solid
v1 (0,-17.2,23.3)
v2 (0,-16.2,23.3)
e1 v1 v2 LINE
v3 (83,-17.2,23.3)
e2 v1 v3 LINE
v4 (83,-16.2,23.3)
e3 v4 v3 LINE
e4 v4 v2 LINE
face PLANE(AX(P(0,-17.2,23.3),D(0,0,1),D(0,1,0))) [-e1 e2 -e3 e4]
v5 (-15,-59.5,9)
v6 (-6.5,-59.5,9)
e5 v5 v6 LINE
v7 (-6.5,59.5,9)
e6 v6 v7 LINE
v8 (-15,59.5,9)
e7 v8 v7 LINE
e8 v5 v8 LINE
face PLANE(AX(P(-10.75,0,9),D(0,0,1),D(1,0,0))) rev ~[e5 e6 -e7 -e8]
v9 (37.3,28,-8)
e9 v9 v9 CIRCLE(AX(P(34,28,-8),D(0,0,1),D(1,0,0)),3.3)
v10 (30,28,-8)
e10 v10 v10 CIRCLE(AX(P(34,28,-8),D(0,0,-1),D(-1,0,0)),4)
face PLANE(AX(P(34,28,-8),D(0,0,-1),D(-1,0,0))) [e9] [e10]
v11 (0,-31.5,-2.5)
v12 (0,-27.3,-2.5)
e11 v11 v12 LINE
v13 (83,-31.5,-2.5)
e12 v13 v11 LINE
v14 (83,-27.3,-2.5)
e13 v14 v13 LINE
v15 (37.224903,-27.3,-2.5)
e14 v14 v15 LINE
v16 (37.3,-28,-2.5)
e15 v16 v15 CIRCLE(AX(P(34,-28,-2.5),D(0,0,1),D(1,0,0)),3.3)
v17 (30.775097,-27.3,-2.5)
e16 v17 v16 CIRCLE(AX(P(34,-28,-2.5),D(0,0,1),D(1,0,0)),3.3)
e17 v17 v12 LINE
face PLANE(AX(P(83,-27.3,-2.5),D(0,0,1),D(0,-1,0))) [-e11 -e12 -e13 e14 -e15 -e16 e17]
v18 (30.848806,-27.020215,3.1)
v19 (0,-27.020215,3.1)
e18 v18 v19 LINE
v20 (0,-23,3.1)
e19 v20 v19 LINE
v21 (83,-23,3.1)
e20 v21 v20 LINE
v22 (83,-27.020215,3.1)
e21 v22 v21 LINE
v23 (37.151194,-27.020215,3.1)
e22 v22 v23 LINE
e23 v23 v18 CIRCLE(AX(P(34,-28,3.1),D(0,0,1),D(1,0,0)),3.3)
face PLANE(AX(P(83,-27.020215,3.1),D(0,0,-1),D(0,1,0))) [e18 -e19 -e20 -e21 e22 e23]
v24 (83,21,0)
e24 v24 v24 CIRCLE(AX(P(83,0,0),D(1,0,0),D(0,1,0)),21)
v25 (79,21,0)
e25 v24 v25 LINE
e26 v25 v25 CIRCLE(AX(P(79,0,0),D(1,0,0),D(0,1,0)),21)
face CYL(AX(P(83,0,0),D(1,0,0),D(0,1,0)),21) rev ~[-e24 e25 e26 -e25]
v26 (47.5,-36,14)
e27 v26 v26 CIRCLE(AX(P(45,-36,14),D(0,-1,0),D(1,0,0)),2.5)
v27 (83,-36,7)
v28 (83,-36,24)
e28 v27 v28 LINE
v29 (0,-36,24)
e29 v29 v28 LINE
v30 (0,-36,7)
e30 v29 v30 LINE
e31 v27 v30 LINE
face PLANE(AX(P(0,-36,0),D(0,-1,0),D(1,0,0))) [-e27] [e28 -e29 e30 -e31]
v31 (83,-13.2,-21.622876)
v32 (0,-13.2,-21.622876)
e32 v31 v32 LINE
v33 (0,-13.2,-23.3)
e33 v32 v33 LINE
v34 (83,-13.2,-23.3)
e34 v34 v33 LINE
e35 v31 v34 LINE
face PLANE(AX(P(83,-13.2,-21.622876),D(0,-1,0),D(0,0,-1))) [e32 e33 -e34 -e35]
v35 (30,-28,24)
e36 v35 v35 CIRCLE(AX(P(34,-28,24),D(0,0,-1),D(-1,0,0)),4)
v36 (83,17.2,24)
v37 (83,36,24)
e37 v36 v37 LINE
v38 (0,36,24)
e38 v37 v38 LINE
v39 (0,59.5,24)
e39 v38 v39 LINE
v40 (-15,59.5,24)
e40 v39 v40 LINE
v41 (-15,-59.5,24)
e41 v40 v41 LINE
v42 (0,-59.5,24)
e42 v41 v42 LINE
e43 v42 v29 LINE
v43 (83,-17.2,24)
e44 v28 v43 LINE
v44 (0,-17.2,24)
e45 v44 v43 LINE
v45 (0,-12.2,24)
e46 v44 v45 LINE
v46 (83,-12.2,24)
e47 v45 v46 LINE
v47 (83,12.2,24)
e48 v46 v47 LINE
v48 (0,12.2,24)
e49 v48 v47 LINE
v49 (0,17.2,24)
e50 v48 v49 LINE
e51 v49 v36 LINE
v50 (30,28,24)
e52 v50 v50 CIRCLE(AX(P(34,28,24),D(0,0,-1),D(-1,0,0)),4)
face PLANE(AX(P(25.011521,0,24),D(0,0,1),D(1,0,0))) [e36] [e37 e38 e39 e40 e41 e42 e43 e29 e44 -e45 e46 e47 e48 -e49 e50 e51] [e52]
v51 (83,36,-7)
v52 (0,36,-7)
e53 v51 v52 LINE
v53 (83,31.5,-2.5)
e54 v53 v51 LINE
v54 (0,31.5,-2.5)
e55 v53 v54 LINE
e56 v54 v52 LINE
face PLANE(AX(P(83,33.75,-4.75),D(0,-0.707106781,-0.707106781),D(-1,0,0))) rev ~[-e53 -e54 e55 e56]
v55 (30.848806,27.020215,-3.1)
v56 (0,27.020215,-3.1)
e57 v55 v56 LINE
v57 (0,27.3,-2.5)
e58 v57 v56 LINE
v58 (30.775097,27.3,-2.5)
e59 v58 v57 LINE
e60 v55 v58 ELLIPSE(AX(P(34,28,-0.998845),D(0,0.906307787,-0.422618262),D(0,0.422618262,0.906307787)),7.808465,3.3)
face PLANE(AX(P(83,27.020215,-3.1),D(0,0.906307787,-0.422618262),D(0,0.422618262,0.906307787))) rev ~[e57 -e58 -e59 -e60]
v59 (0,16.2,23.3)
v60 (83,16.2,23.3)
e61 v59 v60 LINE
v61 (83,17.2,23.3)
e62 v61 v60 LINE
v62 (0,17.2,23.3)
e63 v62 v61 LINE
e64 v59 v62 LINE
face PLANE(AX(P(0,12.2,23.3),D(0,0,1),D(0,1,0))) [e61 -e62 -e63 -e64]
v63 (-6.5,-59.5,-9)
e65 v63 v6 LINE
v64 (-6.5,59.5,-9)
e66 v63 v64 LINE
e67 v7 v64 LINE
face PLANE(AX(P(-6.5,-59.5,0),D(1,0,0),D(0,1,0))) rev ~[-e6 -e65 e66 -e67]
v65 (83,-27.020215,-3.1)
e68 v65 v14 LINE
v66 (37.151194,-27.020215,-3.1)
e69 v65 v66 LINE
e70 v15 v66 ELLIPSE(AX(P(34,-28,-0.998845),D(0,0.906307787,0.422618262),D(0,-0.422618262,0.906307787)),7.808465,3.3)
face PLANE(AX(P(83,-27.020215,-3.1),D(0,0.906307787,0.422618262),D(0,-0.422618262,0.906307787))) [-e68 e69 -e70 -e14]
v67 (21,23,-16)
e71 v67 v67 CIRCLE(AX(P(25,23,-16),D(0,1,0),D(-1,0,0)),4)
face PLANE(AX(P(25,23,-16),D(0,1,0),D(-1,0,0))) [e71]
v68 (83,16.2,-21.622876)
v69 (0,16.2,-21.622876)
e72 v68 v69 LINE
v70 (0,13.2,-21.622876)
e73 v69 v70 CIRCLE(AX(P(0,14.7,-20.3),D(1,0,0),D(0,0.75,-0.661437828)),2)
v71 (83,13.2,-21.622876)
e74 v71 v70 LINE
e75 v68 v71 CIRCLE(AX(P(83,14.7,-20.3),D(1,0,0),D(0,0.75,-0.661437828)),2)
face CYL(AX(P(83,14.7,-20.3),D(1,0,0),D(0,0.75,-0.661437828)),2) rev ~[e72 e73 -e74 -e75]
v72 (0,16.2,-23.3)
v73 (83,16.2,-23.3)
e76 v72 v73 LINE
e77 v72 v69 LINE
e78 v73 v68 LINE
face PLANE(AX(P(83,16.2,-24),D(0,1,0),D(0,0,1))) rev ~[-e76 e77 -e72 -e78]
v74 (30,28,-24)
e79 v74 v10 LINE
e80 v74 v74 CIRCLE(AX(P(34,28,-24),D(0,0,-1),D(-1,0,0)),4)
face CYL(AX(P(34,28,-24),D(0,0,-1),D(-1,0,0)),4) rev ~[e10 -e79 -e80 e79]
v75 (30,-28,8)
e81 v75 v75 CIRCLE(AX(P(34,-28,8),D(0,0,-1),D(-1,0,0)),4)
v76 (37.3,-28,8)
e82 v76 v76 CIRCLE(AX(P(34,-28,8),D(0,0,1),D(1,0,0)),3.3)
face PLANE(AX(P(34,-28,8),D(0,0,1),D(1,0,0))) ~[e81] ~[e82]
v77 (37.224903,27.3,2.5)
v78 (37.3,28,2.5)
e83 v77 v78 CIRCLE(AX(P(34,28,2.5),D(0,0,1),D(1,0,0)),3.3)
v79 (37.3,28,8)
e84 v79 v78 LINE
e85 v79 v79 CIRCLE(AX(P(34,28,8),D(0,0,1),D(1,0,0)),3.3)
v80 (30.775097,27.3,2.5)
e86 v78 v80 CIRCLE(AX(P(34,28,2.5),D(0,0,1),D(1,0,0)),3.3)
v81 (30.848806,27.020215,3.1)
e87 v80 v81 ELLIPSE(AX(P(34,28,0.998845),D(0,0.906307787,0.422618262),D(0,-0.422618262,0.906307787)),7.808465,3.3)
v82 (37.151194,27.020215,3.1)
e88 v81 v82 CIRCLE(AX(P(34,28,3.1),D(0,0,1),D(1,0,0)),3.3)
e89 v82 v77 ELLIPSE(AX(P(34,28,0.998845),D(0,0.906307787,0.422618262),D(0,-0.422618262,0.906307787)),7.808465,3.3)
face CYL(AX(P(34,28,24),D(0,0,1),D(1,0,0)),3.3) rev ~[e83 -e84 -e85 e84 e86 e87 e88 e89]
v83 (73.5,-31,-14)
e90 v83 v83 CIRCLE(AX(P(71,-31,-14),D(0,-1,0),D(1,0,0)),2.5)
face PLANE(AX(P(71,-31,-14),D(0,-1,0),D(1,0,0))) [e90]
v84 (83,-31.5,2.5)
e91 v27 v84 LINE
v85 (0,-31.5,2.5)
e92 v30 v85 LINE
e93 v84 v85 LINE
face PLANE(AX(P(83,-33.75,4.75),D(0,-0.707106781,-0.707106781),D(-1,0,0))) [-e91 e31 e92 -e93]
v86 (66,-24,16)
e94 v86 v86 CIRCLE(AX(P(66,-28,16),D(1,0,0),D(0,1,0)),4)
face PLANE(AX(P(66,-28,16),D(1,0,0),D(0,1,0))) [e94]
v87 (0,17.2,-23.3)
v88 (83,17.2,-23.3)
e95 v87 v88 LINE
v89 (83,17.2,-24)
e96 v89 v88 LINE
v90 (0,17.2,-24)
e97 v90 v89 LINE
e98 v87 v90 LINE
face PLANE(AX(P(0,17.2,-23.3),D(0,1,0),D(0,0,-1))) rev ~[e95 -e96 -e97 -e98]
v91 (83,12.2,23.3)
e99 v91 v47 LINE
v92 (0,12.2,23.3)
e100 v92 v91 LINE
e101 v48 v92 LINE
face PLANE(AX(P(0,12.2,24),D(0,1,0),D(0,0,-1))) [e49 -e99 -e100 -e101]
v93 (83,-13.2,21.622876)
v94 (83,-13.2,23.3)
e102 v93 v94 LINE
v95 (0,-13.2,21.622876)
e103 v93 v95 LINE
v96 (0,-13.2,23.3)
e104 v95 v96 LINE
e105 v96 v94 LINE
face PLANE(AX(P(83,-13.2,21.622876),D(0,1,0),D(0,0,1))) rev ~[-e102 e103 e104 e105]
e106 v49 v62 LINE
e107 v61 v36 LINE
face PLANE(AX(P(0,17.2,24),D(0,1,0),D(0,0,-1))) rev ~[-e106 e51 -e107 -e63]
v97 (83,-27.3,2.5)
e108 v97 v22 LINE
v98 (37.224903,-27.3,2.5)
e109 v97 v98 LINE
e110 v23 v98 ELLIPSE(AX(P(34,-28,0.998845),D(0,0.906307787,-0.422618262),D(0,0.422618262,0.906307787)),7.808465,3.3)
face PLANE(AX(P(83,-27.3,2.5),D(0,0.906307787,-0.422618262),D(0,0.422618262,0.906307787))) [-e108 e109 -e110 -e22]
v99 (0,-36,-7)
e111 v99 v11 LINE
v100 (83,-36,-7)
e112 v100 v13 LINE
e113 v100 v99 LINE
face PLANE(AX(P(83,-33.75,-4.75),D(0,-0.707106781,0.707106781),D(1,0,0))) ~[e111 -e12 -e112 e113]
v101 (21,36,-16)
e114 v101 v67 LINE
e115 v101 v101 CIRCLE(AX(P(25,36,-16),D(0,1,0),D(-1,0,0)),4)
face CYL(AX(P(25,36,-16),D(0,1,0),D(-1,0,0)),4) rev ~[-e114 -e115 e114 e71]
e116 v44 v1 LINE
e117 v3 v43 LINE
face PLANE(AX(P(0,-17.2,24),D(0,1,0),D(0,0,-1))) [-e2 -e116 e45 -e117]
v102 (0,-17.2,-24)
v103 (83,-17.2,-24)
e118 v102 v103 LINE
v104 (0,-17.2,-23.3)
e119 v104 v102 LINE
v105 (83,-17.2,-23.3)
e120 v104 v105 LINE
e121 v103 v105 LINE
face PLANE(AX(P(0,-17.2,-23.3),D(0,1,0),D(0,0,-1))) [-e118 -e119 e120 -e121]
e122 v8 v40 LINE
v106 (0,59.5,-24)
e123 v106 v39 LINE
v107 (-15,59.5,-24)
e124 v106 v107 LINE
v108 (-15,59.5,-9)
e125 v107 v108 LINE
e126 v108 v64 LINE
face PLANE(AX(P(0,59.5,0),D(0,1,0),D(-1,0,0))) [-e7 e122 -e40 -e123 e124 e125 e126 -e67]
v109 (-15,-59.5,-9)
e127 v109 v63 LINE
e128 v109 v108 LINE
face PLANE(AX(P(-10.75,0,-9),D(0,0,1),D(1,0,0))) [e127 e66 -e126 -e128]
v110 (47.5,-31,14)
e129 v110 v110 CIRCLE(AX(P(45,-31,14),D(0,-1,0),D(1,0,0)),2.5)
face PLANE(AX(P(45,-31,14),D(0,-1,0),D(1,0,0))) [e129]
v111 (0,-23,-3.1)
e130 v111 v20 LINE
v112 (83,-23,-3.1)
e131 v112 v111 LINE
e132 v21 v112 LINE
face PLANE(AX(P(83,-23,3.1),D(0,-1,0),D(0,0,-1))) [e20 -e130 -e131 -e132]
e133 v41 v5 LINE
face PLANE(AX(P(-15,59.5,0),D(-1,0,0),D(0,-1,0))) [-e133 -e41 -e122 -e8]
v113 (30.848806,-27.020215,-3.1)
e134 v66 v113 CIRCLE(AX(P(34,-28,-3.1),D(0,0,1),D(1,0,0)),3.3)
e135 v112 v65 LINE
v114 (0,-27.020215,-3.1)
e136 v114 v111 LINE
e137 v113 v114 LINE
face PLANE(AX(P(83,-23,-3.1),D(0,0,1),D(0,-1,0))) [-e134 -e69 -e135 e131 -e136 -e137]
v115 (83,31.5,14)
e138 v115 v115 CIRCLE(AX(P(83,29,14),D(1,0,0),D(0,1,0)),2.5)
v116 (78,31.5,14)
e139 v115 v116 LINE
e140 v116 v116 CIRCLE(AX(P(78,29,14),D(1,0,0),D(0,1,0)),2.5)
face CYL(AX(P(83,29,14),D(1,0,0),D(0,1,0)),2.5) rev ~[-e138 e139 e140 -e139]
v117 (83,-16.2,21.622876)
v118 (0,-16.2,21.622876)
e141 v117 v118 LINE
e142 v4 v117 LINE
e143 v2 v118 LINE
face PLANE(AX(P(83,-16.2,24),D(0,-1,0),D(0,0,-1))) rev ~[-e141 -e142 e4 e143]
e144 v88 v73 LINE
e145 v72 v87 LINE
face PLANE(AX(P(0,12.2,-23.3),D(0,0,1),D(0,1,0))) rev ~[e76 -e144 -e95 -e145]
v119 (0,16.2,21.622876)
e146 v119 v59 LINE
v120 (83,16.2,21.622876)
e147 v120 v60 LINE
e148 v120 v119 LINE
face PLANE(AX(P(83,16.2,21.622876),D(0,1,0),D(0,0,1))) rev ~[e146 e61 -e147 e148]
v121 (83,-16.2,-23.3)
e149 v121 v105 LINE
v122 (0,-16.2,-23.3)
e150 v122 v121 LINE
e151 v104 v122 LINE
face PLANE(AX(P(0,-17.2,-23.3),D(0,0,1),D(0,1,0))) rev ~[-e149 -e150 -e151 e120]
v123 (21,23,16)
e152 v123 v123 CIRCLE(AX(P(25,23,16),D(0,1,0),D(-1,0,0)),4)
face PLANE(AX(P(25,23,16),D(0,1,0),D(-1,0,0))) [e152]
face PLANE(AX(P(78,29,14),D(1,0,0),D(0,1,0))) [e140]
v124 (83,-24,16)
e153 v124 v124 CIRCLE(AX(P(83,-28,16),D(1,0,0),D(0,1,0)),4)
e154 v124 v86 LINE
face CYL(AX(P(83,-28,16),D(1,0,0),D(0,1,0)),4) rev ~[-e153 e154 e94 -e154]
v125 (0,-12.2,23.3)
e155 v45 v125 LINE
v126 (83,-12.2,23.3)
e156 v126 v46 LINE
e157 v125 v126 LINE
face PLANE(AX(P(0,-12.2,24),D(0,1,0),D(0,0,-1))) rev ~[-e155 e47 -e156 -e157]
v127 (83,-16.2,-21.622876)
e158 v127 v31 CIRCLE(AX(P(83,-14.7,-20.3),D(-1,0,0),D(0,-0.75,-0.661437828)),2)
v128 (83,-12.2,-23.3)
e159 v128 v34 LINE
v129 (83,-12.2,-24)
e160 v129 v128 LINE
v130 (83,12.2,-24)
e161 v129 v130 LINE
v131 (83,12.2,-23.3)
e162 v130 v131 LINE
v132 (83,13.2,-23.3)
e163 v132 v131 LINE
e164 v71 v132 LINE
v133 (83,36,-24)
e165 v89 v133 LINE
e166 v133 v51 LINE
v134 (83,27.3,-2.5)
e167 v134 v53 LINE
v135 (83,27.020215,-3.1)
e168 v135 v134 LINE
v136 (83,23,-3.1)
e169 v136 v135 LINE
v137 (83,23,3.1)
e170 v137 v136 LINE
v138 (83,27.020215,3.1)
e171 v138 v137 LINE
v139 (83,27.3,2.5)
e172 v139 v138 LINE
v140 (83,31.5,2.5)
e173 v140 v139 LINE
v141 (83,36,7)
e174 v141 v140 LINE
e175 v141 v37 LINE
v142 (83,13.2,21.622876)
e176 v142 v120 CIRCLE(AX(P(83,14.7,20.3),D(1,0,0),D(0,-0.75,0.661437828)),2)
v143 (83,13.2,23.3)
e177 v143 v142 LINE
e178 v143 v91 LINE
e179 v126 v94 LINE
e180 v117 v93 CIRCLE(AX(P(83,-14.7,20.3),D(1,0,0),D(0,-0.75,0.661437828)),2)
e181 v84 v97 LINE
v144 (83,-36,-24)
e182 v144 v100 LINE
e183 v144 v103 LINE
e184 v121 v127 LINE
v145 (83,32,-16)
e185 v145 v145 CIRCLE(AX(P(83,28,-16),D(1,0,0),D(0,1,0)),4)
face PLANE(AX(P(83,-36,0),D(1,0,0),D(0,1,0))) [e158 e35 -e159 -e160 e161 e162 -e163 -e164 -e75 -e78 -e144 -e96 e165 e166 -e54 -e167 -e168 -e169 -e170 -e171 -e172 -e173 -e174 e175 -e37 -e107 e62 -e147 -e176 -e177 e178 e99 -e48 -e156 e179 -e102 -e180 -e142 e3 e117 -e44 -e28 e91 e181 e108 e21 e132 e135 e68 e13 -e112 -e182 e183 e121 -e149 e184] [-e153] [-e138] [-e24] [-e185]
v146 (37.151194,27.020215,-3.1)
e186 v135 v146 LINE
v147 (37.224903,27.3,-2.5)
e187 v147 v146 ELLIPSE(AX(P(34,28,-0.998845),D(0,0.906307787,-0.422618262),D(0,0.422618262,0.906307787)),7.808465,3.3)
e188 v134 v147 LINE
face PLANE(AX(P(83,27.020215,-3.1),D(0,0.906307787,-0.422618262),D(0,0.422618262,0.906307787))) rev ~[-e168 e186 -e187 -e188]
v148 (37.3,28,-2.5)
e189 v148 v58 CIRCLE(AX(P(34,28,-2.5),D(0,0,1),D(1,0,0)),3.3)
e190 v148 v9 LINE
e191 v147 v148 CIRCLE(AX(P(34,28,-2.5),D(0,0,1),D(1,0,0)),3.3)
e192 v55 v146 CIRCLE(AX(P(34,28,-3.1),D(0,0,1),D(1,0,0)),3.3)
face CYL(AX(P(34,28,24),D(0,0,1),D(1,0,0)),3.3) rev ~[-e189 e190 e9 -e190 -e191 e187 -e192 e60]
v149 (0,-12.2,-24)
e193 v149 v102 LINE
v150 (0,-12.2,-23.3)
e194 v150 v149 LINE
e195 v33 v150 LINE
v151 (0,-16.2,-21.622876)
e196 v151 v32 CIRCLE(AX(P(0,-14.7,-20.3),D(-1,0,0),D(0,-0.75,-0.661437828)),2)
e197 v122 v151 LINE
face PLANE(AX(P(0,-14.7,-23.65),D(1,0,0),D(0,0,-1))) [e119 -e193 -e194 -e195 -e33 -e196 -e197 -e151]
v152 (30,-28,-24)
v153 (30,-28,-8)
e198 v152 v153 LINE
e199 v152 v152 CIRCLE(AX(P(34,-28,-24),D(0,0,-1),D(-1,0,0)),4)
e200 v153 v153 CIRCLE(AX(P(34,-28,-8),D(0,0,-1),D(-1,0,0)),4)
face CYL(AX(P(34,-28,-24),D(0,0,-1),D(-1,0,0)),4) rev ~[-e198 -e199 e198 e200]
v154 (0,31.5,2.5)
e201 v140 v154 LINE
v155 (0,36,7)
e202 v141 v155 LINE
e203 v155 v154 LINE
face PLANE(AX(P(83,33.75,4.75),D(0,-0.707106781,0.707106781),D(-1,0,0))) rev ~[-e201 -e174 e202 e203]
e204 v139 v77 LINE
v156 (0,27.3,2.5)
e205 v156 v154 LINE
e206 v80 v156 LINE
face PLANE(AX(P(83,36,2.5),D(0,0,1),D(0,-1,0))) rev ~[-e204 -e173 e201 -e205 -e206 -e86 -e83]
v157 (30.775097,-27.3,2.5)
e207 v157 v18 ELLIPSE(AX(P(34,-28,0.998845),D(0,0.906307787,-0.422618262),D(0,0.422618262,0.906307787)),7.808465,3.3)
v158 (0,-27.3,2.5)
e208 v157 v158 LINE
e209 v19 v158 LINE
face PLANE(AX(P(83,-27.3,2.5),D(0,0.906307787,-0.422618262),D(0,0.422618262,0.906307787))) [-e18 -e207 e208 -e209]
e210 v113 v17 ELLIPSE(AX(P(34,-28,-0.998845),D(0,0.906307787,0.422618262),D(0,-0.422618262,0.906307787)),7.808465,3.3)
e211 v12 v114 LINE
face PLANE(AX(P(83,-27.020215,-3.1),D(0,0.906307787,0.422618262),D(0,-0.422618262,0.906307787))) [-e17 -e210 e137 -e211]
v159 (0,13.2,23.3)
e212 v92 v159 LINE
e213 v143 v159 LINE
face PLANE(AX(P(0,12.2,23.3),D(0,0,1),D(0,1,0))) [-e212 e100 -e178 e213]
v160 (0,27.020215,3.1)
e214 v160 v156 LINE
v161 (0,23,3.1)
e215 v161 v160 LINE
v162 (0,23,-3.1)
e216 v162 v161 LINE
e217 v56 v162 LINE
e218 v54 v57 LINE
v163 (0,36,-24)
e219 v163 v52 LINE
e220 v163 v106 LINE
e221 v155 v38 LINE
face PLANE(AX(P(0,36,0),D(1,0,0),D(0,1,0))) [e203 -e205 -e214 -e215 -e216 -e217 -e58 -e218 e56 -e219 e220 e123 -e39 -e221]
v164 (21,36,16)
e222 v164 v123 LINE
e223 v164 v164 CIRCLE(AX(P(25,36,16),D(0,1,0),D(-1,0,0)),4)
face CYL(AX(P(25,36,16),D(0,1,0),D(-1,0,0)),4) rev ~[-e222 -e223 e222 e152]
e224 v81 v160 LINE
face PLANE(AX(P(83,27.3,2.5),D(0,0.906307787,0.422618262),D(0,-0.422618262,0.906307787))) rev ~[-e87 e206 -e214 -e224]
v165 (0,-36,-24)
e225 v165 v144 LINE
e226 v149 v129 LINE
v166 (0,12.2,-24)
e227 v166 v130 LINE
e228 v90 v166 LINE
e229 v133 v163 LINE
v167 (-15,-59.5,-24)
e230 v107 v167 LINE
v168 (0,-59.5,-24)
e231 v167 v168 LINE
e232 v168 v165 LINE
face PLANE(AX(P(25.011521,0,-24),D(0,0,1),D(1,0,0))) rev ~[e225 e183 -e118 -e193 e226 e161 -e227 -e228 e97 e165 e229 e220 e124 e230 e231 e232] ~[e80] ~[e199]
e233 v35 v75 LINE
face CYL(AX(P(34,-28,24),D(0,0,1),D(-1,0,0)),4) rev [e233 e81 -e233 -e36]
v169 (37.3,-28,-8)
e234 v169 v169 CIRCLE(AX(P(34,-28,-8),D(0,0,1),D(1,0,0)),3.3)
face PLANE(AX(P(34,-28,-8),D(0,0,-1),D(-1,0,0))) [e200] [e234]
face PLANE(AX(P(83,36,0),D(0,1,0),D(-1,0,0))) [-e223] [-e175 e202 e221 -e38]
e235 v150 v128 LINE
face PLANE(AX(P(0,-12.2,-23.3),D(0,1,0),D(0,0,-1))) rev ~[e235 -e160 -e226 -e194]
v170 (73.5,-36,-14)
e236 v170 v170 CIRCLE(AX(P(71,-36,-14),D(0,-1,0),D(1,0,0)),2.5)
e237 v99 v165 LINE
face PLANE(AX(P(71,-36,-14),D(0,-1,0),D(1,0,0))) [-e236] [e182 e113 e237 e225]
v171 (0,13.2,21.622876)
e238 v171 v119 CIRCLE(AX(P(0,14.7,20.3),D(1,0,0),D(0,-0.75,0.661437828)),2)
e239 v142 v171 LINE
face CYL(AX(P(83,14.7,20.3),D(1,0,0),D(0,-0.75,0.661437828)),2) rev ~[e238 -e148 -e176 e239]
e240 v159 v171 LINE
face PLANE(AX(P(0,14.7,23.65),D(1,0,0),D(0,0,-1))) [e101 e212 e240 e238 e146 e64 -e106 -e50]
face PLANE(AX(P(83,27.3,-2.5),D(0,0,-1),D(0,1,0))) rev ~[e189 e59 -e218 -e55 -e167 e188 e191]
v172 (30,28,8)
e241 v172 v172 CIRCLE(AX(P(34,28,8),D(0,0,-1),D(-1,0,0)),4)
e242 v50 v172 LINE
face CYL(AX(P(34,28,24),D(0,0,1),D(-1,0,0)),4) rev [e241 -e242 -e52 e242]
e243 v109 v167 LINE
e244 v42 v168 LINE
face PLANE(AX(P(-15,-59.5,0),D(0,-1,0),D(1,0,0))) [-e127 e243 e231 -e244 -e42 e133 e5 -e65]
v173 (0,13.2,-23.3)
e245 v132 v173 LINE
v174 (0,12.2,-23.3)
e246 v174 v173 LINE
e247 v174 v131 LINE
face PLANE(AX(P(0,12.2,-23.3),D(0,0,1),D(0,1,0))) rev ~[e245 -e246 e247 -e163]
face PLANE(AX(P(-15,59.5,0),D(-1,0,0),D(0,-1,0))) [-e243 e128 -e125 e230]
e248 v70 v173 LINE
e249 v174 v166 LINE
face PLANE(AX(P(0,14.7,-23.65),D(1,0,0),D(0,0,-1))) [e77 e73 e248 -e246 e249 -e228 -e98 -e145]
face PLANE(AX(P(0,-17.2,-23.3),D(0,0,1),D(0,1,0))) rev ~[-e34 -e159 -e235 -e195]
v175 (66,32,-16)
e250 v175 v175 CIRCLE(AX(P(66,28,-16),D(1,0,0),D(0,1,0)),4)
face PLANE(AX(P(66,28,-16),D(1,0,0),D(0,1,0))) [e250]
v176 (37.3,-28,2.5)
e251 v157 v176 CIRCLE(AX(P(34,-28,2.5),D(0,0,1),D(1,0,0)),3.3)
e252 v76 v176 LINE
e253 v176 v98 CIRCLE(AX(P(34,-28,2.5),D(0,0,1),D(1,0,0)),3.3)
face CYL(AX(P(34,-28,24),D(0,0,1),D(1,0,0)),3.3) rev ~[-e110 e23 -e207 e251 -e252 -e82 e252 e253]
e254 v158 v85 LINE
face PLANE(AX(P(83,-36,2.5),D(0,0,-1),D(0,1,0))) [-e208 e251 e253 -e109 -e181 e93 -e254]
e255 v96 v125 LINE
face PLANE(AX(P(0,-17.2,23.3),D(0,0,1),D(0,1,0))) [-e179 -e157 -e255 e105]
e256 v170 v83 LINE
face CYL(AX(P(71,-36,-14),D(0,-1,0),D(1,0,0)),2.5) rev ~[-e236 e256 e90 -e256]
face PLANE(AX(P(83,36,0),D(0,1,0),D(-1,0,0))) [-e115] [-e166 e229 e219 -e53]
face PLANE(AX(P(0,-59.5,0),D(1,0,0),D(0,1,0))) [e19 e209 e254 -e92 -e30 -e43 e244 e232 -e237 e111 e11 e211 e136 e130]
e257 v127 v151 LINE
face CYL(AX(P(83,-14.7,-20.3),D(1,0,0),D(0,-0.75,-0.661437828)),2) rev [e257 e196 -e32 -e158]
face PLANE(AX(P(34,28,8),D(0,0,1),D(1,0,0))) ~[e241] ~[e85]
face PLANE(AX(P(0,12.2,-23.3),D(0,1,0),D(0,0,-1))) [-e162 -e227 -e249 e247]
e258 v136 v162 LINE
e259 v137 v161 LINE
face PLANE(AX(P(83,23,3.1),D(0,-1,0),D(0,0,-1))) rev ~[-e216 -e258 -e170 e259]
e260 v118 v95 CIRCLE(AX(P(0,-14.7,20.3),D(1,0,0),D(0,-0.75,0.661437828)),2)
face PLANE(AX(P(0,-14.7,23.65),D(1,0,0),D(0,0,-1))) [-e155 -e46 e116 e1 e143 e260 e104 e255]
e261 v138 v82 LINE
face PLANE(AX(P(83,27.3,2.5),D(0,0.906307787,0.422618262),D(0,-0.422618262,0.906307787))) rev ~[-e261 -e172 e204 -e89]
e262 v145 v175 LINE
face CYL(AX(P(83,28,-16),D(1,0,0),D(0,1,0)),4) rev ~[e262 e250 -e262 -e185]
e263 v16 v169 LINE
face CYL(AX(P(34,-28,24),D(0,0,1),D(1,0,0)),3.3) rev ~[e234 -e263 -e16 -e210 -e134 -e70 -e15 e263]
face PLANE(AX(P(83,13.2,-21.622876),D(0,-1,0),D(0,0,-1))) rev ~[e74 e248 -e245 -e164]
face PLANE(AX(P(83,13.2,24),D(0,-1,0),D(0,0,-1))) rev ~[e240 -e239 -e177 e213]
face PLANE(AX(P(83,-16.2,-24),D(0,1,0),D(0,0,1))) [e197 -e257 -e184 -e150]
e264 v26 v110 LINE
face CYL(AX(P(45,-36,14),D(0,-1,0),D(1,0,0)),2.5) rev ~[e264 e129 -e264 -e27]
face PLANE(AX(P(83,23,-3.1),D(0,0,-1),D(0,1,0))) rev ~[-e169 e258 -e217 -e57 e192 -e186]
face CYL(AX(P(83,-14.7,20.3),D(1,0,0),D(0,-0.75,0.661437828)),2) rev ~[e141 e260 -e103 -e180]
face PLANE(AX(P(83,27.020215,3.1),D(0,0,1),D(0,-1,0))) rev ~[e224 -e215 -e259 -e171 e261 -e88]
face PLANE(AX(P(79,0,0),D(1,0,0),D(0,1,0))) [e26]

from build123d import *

# Parameters (mm, degrees)
MAIN_DEPTH                   = 24
SK_RECESS_R                  = 21
RECESS_DEPTH                 = 4
NUT_DEPTH                    = 83
SK_HOLE1_R                   = 2.5
HOLE1_DEPTH                  = 5
SK_HOLE_T_R                  = 4
HOLE_T_DEPTH                 = 17
SK_HOLE2_R                   = 4
HOLE2_DEPTH                  = 13
SK_HOLE3_R                   = 4
HOLE3_DEPTH                  = 16
SKETCH1_R                    = 3.3
THRUHOLES_DEPTH              = 113.841703284
SK_PRONG_GRV_W               = 8.5
SK_PRONG_GRV_H               = 119
PRONG_GRV_DEPTH              = 9
SK_HOLE4_R                   = 2.5
HOLE4_DEPTH                  = 5
GRV_REACH                    = 119.133
F_32_40SWITCHCHAMFER_SIZE    = 4.5
SKETCH5_W                    = 0.7
SKETCH5_H                    = 5
F_32_40SWITCHCUTDETAIL_DEPTH = 105.905910224
EXTRUDE1_START               = 5
SKETCH6_R                    = 2.5
EXTRUDE1_DEPTH               = 5
SKETCH9_R                    = 2.5
HOLE_5_DEPTH                 = 5


with BuildPart() as part:
    # sk-main → main (new, symmetric)
    with BuildSketch(Plane.XY):
        Polygon((0, -36), (83, -36), (83, 36), (0, 36), (0, 59.5), (-15, 59.5), (-15, -59.5), (0, -59.5), align=None)
    extrude(amount=MAIN_DEPTH, both=True)

    # sk-recess → recess (cut)
    with BuildSketch(Plane(origin=(83, 0, 0), x_dir=(0, 0, -1), z_dir=(1, 0, 0))):
        with Locations(Location((0, 0, 0), (0, 0, 90))):
            Circle(SK_RECESS_R)
    extrude(amount=-RECESS_DEPTH, mode=Mode.SUBTRACT)

    # sk-NUT → NUT (cut)
    with BuildSketch(Plane(origin=(83, 0, 0), x_dir=(0, 0, -1), z_dir=(1, 0, 0))):
        with BuildLine():
            Line((-21.622875656, 16.2), (-24, 16.2))
            Line((-24, 16.2), (-24, 13.2))
            Line((-24, 13.2), (-21.622875656, 13.2))
            ThreePointArc((-21.622875656, 13.2), (-18.3, 14.7), (-21.622875656, 16.2))
        make_face()
        with BuildLine():
            Line((-21.622875656, -13.2), (-24, -13.2))
            Line((-24, -13.2), (-24, -16.2))
            Line((-24, -16.2), (-21.622875656, -16.2))
            ThreePointArc((-21.622875656, -16.2), (-18.3, -14.7), (-21.622875656, -13.2))
        make_face()
        with BuildLine():
            Line((21.622875656, 13.2), (24, 13.2))
            Line((24, 13.2), (24, 16.2))
            Line((24, 16.2), (21.622875656, 16.2))
            ThreePointArc((21.622875656, 16.2), (18.3, 14.7), (21.622875656, 13.2))
        make_face()
        with BuildLine():
            Line((21.622875656, -13.2), (24, -13.2))
            Line((24, -13.2), (24, -16.2))
            Line((24, -16.2), (21.622875656, -16.2))
            ThreePointArc((21.622875656, -16.2), (18.3, -14.7), (21.622875656, -13.2))
        make_face()
    extrude(amount=-NUT_DEPTH, mode=Mode.SUBTRACT)

    # sk-hole1 → hole1 (cut)
    with BuildSketch(Plane(origin=(83, 0, 0), x_dir=(0, 0, -1), z_dir=(1, 0, 0))):
        with Locations(Location((-14, 29, 0), (0, 0, 90))):
            Circle(SK_HOLE1_R)
    extrude(amount=-HOLE1_DEPTH, mode=Mode.SUBTRACT)

    # sk-hole_t → hole_t (cut)
    with BuildSketch(Plane(origin=(83, 0, 0), x_dir=(0, 0, -1), z_dir=(1, 0, 0))):
        with Locations(Location((-16, -28, 0), (0, 0, 90))):
            Circle(SK_HOLE_T_R)
        with Locations(Location((16, 28, 0), (0, 0, 90))):
            Circle(SK_HOLE_T_R)
    extrude(amount=-HOLE_T_DEPTH, mode=Mode.SUBTRACT)

    # sk-hole2 → hole2 (cut)
    with BuildSketch(Plane(origin=(0, 36, 0), x_dir=(-1, 0, 0), z_dir=(0, 1, 0))):
        with Locations((-25, -16)):
            Circle(SK_HOLE2_R)
        with Locations((-25, 16)):
            Circle(SK_HOLE2_R)
    extrude(amount=-HOLE2_DEPTH, mode=Mode.SUBTRACT)

    # sk-hole3 → hole3 (cut)
    with BuildSketch(Plane(origin=(0, 0, -24), x_dir=(-1, 0, 0), z_dir=(0, 0, -1))):
        with Locations((-34, 28)):
            Circle(SK_HOLE3_R)
        with Locations((-34, -28)):
            Circle(SK_HOLE3_R)
    hole3 = extrude(amount=-HOLE3_DEPTH, mode=Mode.SUBTRACT)

    # Mirror1: hole3 across plane
    add(hole3.mirror(Plane.XY), mode=Mode.SUBTRACT)

    # Sketch1 → ThruHoles (cut, through all)
    with BuildSketch(Plane.XY.offset(24)):
        with Locations((34, 28)):
            Circle(SKETCH1_R)
        with Locations((34, -28)):
            Circle(SKETCH1_R)
    extrude(amount=-THRUHOLES_DEPTH, mode=Mode.SUBTRACT)

    # sk-prong_grv → prong_grv (cut, symmetric)
    with BuildSketch(Plane.XY):
        with Locations((-10.75, 0)):
            Rectangle(SK_PRONG_GRV_W, SK_PRONG_GRV_H)
    extrude(amount=PRONG_GRV_DEPTH, both=True, mode=Mode.SUBTRACT)

    # sk-hole4 → hole4 (cut)
    with BuildSketch(Plane.XZ.offset(36)):
        with Locations((45, 14)):
            Circle(SK_HOLE4_R)
        with Locations((71, -14)):
            Circle(SK_HOLE4_R)
    extrude(amount=-HOLE4_DEPTH, mode=Mode.SUBTRACT)

    # grv: up to this face of the body (flat: up to its plane)
    grv_end = Plane(part.part.faces().sort_by_distance((0, 47.75, 0))[0])
    # sk-grv → grv (cut, up to the picked face)
    with BuildSketch(Plane(origin=(83, 0, 0), x_dir=(0, 0, -1), z_dir=(1, 0, 0)), mode=Mode.PRIVATE) as grv_sk1:
        Polygon((-2.5, 36), (-2.5, 27.3), (-3.1, 27.020215405), (-3.1, 23), (3.1, 23), (3.1, 27.020215405), (2.5, 27.3), (2.5, 36), align=None)
    grv_tool1 = split(extrude(grv_sk1.sketch, amount=-GRV_REACH, mode=Mode.PRIVATE), bisect_by=grv_end, keep=Keep.BOTH, mode=Mode.PRIVATE)
    # sk-grv → grv (cut, up to the picked face)
    with BuildSketch(Plane(origin=(83, 0, 0), x_dir=(0, 0, -1), z_dir=(1, 0, 0)), mode=Mode.PRIVATE) as grv_sk2:
        Polygon((3.1, -23), (3.1, -27.020215405), (2.5, -27.3), (2.5, -36), (-2.5, -36), (-2.5, -27.3), (-3.1, -27.020215405), (-3.1, -23), align=None)
    grv_tool2 = split(extrude(grv_sk2.sketch, amount=-GRV_REACH, mode=Mode.PRIVATE), bisect_by=grv_end, keep=Keep.BOTH, mode=Mode.PRIVATE)
    add(grv_tool1.solids().sort_by(Axis((83, 29.184807, 0), (-1, 0, 0)))[0], mode=Mode.SUBTRACT)
    add(grv_tool2.solids().sort_by(Axis((83, -29.184807, 0), (-1, 0, 0)))[0], mode=Mode.SUBTRACT)

    # 32-40SwitchChamfer
    f_32_40switchchamfer_edges = [part.edges().sort_by_distance(p)[0] for p in [
        (41.5, 36, -2.5),
        (41.5, 36, 2.5),
        (41.5, -36, 2.5),
        (41.5, -36, -2.5),
    ]]
    chamfer(f_32_40switchchamfer_edges, length=F_32_40SWITCHCHAMFER_SIZE)

    # Sketch5 → 32-40SwitchCutDetail (cut, through all)
    with BuildSketch(Plane(origin=(0, 0, 0), x_dir=(0, 0, -1), z_dir=(1, 0, 0))):
        with Locations((-23.65, 14.7)):
            Rectangle(SKETCH5_W, SKETCH5_H)
        with Locations((23.65, 14.7)):
            Rectangle(SKETCH5_W, SKETCH5_H)
        with Locations((23.65, -14.7)):
            Rectangle(SKETCH5_W, SKETCH5_H)
        with Locations((-23.65, -14.7)):
            Rectangle(SKETCH5_W, SKETCH5_H)
    extrude(amount=F_32_40SWITCHCUTDETAIL_DEPTH, mode=Mode.SUBTRACT)

    # Sketch6 → Extrude1 (add)
    with BuildSketch(Plane.XZ.offset(31).offset(EXTRUDE1_START)):
        with Locations((71, -14)):
            Circle(SKETCH6_R)
    extrude(amount=-EXTRUDE1_DEPTH)

    # Sketch9 → Hole 5 (cut)
    with BuildSketch(Plane.XZ.offset(36)):
        with Locations((71, -14)):
            Circle(SKETCH9_R)
    extrude(amount=-HOLE_5_DEPTH, mode=Mode.SUBTRACT)


solid = part.part
